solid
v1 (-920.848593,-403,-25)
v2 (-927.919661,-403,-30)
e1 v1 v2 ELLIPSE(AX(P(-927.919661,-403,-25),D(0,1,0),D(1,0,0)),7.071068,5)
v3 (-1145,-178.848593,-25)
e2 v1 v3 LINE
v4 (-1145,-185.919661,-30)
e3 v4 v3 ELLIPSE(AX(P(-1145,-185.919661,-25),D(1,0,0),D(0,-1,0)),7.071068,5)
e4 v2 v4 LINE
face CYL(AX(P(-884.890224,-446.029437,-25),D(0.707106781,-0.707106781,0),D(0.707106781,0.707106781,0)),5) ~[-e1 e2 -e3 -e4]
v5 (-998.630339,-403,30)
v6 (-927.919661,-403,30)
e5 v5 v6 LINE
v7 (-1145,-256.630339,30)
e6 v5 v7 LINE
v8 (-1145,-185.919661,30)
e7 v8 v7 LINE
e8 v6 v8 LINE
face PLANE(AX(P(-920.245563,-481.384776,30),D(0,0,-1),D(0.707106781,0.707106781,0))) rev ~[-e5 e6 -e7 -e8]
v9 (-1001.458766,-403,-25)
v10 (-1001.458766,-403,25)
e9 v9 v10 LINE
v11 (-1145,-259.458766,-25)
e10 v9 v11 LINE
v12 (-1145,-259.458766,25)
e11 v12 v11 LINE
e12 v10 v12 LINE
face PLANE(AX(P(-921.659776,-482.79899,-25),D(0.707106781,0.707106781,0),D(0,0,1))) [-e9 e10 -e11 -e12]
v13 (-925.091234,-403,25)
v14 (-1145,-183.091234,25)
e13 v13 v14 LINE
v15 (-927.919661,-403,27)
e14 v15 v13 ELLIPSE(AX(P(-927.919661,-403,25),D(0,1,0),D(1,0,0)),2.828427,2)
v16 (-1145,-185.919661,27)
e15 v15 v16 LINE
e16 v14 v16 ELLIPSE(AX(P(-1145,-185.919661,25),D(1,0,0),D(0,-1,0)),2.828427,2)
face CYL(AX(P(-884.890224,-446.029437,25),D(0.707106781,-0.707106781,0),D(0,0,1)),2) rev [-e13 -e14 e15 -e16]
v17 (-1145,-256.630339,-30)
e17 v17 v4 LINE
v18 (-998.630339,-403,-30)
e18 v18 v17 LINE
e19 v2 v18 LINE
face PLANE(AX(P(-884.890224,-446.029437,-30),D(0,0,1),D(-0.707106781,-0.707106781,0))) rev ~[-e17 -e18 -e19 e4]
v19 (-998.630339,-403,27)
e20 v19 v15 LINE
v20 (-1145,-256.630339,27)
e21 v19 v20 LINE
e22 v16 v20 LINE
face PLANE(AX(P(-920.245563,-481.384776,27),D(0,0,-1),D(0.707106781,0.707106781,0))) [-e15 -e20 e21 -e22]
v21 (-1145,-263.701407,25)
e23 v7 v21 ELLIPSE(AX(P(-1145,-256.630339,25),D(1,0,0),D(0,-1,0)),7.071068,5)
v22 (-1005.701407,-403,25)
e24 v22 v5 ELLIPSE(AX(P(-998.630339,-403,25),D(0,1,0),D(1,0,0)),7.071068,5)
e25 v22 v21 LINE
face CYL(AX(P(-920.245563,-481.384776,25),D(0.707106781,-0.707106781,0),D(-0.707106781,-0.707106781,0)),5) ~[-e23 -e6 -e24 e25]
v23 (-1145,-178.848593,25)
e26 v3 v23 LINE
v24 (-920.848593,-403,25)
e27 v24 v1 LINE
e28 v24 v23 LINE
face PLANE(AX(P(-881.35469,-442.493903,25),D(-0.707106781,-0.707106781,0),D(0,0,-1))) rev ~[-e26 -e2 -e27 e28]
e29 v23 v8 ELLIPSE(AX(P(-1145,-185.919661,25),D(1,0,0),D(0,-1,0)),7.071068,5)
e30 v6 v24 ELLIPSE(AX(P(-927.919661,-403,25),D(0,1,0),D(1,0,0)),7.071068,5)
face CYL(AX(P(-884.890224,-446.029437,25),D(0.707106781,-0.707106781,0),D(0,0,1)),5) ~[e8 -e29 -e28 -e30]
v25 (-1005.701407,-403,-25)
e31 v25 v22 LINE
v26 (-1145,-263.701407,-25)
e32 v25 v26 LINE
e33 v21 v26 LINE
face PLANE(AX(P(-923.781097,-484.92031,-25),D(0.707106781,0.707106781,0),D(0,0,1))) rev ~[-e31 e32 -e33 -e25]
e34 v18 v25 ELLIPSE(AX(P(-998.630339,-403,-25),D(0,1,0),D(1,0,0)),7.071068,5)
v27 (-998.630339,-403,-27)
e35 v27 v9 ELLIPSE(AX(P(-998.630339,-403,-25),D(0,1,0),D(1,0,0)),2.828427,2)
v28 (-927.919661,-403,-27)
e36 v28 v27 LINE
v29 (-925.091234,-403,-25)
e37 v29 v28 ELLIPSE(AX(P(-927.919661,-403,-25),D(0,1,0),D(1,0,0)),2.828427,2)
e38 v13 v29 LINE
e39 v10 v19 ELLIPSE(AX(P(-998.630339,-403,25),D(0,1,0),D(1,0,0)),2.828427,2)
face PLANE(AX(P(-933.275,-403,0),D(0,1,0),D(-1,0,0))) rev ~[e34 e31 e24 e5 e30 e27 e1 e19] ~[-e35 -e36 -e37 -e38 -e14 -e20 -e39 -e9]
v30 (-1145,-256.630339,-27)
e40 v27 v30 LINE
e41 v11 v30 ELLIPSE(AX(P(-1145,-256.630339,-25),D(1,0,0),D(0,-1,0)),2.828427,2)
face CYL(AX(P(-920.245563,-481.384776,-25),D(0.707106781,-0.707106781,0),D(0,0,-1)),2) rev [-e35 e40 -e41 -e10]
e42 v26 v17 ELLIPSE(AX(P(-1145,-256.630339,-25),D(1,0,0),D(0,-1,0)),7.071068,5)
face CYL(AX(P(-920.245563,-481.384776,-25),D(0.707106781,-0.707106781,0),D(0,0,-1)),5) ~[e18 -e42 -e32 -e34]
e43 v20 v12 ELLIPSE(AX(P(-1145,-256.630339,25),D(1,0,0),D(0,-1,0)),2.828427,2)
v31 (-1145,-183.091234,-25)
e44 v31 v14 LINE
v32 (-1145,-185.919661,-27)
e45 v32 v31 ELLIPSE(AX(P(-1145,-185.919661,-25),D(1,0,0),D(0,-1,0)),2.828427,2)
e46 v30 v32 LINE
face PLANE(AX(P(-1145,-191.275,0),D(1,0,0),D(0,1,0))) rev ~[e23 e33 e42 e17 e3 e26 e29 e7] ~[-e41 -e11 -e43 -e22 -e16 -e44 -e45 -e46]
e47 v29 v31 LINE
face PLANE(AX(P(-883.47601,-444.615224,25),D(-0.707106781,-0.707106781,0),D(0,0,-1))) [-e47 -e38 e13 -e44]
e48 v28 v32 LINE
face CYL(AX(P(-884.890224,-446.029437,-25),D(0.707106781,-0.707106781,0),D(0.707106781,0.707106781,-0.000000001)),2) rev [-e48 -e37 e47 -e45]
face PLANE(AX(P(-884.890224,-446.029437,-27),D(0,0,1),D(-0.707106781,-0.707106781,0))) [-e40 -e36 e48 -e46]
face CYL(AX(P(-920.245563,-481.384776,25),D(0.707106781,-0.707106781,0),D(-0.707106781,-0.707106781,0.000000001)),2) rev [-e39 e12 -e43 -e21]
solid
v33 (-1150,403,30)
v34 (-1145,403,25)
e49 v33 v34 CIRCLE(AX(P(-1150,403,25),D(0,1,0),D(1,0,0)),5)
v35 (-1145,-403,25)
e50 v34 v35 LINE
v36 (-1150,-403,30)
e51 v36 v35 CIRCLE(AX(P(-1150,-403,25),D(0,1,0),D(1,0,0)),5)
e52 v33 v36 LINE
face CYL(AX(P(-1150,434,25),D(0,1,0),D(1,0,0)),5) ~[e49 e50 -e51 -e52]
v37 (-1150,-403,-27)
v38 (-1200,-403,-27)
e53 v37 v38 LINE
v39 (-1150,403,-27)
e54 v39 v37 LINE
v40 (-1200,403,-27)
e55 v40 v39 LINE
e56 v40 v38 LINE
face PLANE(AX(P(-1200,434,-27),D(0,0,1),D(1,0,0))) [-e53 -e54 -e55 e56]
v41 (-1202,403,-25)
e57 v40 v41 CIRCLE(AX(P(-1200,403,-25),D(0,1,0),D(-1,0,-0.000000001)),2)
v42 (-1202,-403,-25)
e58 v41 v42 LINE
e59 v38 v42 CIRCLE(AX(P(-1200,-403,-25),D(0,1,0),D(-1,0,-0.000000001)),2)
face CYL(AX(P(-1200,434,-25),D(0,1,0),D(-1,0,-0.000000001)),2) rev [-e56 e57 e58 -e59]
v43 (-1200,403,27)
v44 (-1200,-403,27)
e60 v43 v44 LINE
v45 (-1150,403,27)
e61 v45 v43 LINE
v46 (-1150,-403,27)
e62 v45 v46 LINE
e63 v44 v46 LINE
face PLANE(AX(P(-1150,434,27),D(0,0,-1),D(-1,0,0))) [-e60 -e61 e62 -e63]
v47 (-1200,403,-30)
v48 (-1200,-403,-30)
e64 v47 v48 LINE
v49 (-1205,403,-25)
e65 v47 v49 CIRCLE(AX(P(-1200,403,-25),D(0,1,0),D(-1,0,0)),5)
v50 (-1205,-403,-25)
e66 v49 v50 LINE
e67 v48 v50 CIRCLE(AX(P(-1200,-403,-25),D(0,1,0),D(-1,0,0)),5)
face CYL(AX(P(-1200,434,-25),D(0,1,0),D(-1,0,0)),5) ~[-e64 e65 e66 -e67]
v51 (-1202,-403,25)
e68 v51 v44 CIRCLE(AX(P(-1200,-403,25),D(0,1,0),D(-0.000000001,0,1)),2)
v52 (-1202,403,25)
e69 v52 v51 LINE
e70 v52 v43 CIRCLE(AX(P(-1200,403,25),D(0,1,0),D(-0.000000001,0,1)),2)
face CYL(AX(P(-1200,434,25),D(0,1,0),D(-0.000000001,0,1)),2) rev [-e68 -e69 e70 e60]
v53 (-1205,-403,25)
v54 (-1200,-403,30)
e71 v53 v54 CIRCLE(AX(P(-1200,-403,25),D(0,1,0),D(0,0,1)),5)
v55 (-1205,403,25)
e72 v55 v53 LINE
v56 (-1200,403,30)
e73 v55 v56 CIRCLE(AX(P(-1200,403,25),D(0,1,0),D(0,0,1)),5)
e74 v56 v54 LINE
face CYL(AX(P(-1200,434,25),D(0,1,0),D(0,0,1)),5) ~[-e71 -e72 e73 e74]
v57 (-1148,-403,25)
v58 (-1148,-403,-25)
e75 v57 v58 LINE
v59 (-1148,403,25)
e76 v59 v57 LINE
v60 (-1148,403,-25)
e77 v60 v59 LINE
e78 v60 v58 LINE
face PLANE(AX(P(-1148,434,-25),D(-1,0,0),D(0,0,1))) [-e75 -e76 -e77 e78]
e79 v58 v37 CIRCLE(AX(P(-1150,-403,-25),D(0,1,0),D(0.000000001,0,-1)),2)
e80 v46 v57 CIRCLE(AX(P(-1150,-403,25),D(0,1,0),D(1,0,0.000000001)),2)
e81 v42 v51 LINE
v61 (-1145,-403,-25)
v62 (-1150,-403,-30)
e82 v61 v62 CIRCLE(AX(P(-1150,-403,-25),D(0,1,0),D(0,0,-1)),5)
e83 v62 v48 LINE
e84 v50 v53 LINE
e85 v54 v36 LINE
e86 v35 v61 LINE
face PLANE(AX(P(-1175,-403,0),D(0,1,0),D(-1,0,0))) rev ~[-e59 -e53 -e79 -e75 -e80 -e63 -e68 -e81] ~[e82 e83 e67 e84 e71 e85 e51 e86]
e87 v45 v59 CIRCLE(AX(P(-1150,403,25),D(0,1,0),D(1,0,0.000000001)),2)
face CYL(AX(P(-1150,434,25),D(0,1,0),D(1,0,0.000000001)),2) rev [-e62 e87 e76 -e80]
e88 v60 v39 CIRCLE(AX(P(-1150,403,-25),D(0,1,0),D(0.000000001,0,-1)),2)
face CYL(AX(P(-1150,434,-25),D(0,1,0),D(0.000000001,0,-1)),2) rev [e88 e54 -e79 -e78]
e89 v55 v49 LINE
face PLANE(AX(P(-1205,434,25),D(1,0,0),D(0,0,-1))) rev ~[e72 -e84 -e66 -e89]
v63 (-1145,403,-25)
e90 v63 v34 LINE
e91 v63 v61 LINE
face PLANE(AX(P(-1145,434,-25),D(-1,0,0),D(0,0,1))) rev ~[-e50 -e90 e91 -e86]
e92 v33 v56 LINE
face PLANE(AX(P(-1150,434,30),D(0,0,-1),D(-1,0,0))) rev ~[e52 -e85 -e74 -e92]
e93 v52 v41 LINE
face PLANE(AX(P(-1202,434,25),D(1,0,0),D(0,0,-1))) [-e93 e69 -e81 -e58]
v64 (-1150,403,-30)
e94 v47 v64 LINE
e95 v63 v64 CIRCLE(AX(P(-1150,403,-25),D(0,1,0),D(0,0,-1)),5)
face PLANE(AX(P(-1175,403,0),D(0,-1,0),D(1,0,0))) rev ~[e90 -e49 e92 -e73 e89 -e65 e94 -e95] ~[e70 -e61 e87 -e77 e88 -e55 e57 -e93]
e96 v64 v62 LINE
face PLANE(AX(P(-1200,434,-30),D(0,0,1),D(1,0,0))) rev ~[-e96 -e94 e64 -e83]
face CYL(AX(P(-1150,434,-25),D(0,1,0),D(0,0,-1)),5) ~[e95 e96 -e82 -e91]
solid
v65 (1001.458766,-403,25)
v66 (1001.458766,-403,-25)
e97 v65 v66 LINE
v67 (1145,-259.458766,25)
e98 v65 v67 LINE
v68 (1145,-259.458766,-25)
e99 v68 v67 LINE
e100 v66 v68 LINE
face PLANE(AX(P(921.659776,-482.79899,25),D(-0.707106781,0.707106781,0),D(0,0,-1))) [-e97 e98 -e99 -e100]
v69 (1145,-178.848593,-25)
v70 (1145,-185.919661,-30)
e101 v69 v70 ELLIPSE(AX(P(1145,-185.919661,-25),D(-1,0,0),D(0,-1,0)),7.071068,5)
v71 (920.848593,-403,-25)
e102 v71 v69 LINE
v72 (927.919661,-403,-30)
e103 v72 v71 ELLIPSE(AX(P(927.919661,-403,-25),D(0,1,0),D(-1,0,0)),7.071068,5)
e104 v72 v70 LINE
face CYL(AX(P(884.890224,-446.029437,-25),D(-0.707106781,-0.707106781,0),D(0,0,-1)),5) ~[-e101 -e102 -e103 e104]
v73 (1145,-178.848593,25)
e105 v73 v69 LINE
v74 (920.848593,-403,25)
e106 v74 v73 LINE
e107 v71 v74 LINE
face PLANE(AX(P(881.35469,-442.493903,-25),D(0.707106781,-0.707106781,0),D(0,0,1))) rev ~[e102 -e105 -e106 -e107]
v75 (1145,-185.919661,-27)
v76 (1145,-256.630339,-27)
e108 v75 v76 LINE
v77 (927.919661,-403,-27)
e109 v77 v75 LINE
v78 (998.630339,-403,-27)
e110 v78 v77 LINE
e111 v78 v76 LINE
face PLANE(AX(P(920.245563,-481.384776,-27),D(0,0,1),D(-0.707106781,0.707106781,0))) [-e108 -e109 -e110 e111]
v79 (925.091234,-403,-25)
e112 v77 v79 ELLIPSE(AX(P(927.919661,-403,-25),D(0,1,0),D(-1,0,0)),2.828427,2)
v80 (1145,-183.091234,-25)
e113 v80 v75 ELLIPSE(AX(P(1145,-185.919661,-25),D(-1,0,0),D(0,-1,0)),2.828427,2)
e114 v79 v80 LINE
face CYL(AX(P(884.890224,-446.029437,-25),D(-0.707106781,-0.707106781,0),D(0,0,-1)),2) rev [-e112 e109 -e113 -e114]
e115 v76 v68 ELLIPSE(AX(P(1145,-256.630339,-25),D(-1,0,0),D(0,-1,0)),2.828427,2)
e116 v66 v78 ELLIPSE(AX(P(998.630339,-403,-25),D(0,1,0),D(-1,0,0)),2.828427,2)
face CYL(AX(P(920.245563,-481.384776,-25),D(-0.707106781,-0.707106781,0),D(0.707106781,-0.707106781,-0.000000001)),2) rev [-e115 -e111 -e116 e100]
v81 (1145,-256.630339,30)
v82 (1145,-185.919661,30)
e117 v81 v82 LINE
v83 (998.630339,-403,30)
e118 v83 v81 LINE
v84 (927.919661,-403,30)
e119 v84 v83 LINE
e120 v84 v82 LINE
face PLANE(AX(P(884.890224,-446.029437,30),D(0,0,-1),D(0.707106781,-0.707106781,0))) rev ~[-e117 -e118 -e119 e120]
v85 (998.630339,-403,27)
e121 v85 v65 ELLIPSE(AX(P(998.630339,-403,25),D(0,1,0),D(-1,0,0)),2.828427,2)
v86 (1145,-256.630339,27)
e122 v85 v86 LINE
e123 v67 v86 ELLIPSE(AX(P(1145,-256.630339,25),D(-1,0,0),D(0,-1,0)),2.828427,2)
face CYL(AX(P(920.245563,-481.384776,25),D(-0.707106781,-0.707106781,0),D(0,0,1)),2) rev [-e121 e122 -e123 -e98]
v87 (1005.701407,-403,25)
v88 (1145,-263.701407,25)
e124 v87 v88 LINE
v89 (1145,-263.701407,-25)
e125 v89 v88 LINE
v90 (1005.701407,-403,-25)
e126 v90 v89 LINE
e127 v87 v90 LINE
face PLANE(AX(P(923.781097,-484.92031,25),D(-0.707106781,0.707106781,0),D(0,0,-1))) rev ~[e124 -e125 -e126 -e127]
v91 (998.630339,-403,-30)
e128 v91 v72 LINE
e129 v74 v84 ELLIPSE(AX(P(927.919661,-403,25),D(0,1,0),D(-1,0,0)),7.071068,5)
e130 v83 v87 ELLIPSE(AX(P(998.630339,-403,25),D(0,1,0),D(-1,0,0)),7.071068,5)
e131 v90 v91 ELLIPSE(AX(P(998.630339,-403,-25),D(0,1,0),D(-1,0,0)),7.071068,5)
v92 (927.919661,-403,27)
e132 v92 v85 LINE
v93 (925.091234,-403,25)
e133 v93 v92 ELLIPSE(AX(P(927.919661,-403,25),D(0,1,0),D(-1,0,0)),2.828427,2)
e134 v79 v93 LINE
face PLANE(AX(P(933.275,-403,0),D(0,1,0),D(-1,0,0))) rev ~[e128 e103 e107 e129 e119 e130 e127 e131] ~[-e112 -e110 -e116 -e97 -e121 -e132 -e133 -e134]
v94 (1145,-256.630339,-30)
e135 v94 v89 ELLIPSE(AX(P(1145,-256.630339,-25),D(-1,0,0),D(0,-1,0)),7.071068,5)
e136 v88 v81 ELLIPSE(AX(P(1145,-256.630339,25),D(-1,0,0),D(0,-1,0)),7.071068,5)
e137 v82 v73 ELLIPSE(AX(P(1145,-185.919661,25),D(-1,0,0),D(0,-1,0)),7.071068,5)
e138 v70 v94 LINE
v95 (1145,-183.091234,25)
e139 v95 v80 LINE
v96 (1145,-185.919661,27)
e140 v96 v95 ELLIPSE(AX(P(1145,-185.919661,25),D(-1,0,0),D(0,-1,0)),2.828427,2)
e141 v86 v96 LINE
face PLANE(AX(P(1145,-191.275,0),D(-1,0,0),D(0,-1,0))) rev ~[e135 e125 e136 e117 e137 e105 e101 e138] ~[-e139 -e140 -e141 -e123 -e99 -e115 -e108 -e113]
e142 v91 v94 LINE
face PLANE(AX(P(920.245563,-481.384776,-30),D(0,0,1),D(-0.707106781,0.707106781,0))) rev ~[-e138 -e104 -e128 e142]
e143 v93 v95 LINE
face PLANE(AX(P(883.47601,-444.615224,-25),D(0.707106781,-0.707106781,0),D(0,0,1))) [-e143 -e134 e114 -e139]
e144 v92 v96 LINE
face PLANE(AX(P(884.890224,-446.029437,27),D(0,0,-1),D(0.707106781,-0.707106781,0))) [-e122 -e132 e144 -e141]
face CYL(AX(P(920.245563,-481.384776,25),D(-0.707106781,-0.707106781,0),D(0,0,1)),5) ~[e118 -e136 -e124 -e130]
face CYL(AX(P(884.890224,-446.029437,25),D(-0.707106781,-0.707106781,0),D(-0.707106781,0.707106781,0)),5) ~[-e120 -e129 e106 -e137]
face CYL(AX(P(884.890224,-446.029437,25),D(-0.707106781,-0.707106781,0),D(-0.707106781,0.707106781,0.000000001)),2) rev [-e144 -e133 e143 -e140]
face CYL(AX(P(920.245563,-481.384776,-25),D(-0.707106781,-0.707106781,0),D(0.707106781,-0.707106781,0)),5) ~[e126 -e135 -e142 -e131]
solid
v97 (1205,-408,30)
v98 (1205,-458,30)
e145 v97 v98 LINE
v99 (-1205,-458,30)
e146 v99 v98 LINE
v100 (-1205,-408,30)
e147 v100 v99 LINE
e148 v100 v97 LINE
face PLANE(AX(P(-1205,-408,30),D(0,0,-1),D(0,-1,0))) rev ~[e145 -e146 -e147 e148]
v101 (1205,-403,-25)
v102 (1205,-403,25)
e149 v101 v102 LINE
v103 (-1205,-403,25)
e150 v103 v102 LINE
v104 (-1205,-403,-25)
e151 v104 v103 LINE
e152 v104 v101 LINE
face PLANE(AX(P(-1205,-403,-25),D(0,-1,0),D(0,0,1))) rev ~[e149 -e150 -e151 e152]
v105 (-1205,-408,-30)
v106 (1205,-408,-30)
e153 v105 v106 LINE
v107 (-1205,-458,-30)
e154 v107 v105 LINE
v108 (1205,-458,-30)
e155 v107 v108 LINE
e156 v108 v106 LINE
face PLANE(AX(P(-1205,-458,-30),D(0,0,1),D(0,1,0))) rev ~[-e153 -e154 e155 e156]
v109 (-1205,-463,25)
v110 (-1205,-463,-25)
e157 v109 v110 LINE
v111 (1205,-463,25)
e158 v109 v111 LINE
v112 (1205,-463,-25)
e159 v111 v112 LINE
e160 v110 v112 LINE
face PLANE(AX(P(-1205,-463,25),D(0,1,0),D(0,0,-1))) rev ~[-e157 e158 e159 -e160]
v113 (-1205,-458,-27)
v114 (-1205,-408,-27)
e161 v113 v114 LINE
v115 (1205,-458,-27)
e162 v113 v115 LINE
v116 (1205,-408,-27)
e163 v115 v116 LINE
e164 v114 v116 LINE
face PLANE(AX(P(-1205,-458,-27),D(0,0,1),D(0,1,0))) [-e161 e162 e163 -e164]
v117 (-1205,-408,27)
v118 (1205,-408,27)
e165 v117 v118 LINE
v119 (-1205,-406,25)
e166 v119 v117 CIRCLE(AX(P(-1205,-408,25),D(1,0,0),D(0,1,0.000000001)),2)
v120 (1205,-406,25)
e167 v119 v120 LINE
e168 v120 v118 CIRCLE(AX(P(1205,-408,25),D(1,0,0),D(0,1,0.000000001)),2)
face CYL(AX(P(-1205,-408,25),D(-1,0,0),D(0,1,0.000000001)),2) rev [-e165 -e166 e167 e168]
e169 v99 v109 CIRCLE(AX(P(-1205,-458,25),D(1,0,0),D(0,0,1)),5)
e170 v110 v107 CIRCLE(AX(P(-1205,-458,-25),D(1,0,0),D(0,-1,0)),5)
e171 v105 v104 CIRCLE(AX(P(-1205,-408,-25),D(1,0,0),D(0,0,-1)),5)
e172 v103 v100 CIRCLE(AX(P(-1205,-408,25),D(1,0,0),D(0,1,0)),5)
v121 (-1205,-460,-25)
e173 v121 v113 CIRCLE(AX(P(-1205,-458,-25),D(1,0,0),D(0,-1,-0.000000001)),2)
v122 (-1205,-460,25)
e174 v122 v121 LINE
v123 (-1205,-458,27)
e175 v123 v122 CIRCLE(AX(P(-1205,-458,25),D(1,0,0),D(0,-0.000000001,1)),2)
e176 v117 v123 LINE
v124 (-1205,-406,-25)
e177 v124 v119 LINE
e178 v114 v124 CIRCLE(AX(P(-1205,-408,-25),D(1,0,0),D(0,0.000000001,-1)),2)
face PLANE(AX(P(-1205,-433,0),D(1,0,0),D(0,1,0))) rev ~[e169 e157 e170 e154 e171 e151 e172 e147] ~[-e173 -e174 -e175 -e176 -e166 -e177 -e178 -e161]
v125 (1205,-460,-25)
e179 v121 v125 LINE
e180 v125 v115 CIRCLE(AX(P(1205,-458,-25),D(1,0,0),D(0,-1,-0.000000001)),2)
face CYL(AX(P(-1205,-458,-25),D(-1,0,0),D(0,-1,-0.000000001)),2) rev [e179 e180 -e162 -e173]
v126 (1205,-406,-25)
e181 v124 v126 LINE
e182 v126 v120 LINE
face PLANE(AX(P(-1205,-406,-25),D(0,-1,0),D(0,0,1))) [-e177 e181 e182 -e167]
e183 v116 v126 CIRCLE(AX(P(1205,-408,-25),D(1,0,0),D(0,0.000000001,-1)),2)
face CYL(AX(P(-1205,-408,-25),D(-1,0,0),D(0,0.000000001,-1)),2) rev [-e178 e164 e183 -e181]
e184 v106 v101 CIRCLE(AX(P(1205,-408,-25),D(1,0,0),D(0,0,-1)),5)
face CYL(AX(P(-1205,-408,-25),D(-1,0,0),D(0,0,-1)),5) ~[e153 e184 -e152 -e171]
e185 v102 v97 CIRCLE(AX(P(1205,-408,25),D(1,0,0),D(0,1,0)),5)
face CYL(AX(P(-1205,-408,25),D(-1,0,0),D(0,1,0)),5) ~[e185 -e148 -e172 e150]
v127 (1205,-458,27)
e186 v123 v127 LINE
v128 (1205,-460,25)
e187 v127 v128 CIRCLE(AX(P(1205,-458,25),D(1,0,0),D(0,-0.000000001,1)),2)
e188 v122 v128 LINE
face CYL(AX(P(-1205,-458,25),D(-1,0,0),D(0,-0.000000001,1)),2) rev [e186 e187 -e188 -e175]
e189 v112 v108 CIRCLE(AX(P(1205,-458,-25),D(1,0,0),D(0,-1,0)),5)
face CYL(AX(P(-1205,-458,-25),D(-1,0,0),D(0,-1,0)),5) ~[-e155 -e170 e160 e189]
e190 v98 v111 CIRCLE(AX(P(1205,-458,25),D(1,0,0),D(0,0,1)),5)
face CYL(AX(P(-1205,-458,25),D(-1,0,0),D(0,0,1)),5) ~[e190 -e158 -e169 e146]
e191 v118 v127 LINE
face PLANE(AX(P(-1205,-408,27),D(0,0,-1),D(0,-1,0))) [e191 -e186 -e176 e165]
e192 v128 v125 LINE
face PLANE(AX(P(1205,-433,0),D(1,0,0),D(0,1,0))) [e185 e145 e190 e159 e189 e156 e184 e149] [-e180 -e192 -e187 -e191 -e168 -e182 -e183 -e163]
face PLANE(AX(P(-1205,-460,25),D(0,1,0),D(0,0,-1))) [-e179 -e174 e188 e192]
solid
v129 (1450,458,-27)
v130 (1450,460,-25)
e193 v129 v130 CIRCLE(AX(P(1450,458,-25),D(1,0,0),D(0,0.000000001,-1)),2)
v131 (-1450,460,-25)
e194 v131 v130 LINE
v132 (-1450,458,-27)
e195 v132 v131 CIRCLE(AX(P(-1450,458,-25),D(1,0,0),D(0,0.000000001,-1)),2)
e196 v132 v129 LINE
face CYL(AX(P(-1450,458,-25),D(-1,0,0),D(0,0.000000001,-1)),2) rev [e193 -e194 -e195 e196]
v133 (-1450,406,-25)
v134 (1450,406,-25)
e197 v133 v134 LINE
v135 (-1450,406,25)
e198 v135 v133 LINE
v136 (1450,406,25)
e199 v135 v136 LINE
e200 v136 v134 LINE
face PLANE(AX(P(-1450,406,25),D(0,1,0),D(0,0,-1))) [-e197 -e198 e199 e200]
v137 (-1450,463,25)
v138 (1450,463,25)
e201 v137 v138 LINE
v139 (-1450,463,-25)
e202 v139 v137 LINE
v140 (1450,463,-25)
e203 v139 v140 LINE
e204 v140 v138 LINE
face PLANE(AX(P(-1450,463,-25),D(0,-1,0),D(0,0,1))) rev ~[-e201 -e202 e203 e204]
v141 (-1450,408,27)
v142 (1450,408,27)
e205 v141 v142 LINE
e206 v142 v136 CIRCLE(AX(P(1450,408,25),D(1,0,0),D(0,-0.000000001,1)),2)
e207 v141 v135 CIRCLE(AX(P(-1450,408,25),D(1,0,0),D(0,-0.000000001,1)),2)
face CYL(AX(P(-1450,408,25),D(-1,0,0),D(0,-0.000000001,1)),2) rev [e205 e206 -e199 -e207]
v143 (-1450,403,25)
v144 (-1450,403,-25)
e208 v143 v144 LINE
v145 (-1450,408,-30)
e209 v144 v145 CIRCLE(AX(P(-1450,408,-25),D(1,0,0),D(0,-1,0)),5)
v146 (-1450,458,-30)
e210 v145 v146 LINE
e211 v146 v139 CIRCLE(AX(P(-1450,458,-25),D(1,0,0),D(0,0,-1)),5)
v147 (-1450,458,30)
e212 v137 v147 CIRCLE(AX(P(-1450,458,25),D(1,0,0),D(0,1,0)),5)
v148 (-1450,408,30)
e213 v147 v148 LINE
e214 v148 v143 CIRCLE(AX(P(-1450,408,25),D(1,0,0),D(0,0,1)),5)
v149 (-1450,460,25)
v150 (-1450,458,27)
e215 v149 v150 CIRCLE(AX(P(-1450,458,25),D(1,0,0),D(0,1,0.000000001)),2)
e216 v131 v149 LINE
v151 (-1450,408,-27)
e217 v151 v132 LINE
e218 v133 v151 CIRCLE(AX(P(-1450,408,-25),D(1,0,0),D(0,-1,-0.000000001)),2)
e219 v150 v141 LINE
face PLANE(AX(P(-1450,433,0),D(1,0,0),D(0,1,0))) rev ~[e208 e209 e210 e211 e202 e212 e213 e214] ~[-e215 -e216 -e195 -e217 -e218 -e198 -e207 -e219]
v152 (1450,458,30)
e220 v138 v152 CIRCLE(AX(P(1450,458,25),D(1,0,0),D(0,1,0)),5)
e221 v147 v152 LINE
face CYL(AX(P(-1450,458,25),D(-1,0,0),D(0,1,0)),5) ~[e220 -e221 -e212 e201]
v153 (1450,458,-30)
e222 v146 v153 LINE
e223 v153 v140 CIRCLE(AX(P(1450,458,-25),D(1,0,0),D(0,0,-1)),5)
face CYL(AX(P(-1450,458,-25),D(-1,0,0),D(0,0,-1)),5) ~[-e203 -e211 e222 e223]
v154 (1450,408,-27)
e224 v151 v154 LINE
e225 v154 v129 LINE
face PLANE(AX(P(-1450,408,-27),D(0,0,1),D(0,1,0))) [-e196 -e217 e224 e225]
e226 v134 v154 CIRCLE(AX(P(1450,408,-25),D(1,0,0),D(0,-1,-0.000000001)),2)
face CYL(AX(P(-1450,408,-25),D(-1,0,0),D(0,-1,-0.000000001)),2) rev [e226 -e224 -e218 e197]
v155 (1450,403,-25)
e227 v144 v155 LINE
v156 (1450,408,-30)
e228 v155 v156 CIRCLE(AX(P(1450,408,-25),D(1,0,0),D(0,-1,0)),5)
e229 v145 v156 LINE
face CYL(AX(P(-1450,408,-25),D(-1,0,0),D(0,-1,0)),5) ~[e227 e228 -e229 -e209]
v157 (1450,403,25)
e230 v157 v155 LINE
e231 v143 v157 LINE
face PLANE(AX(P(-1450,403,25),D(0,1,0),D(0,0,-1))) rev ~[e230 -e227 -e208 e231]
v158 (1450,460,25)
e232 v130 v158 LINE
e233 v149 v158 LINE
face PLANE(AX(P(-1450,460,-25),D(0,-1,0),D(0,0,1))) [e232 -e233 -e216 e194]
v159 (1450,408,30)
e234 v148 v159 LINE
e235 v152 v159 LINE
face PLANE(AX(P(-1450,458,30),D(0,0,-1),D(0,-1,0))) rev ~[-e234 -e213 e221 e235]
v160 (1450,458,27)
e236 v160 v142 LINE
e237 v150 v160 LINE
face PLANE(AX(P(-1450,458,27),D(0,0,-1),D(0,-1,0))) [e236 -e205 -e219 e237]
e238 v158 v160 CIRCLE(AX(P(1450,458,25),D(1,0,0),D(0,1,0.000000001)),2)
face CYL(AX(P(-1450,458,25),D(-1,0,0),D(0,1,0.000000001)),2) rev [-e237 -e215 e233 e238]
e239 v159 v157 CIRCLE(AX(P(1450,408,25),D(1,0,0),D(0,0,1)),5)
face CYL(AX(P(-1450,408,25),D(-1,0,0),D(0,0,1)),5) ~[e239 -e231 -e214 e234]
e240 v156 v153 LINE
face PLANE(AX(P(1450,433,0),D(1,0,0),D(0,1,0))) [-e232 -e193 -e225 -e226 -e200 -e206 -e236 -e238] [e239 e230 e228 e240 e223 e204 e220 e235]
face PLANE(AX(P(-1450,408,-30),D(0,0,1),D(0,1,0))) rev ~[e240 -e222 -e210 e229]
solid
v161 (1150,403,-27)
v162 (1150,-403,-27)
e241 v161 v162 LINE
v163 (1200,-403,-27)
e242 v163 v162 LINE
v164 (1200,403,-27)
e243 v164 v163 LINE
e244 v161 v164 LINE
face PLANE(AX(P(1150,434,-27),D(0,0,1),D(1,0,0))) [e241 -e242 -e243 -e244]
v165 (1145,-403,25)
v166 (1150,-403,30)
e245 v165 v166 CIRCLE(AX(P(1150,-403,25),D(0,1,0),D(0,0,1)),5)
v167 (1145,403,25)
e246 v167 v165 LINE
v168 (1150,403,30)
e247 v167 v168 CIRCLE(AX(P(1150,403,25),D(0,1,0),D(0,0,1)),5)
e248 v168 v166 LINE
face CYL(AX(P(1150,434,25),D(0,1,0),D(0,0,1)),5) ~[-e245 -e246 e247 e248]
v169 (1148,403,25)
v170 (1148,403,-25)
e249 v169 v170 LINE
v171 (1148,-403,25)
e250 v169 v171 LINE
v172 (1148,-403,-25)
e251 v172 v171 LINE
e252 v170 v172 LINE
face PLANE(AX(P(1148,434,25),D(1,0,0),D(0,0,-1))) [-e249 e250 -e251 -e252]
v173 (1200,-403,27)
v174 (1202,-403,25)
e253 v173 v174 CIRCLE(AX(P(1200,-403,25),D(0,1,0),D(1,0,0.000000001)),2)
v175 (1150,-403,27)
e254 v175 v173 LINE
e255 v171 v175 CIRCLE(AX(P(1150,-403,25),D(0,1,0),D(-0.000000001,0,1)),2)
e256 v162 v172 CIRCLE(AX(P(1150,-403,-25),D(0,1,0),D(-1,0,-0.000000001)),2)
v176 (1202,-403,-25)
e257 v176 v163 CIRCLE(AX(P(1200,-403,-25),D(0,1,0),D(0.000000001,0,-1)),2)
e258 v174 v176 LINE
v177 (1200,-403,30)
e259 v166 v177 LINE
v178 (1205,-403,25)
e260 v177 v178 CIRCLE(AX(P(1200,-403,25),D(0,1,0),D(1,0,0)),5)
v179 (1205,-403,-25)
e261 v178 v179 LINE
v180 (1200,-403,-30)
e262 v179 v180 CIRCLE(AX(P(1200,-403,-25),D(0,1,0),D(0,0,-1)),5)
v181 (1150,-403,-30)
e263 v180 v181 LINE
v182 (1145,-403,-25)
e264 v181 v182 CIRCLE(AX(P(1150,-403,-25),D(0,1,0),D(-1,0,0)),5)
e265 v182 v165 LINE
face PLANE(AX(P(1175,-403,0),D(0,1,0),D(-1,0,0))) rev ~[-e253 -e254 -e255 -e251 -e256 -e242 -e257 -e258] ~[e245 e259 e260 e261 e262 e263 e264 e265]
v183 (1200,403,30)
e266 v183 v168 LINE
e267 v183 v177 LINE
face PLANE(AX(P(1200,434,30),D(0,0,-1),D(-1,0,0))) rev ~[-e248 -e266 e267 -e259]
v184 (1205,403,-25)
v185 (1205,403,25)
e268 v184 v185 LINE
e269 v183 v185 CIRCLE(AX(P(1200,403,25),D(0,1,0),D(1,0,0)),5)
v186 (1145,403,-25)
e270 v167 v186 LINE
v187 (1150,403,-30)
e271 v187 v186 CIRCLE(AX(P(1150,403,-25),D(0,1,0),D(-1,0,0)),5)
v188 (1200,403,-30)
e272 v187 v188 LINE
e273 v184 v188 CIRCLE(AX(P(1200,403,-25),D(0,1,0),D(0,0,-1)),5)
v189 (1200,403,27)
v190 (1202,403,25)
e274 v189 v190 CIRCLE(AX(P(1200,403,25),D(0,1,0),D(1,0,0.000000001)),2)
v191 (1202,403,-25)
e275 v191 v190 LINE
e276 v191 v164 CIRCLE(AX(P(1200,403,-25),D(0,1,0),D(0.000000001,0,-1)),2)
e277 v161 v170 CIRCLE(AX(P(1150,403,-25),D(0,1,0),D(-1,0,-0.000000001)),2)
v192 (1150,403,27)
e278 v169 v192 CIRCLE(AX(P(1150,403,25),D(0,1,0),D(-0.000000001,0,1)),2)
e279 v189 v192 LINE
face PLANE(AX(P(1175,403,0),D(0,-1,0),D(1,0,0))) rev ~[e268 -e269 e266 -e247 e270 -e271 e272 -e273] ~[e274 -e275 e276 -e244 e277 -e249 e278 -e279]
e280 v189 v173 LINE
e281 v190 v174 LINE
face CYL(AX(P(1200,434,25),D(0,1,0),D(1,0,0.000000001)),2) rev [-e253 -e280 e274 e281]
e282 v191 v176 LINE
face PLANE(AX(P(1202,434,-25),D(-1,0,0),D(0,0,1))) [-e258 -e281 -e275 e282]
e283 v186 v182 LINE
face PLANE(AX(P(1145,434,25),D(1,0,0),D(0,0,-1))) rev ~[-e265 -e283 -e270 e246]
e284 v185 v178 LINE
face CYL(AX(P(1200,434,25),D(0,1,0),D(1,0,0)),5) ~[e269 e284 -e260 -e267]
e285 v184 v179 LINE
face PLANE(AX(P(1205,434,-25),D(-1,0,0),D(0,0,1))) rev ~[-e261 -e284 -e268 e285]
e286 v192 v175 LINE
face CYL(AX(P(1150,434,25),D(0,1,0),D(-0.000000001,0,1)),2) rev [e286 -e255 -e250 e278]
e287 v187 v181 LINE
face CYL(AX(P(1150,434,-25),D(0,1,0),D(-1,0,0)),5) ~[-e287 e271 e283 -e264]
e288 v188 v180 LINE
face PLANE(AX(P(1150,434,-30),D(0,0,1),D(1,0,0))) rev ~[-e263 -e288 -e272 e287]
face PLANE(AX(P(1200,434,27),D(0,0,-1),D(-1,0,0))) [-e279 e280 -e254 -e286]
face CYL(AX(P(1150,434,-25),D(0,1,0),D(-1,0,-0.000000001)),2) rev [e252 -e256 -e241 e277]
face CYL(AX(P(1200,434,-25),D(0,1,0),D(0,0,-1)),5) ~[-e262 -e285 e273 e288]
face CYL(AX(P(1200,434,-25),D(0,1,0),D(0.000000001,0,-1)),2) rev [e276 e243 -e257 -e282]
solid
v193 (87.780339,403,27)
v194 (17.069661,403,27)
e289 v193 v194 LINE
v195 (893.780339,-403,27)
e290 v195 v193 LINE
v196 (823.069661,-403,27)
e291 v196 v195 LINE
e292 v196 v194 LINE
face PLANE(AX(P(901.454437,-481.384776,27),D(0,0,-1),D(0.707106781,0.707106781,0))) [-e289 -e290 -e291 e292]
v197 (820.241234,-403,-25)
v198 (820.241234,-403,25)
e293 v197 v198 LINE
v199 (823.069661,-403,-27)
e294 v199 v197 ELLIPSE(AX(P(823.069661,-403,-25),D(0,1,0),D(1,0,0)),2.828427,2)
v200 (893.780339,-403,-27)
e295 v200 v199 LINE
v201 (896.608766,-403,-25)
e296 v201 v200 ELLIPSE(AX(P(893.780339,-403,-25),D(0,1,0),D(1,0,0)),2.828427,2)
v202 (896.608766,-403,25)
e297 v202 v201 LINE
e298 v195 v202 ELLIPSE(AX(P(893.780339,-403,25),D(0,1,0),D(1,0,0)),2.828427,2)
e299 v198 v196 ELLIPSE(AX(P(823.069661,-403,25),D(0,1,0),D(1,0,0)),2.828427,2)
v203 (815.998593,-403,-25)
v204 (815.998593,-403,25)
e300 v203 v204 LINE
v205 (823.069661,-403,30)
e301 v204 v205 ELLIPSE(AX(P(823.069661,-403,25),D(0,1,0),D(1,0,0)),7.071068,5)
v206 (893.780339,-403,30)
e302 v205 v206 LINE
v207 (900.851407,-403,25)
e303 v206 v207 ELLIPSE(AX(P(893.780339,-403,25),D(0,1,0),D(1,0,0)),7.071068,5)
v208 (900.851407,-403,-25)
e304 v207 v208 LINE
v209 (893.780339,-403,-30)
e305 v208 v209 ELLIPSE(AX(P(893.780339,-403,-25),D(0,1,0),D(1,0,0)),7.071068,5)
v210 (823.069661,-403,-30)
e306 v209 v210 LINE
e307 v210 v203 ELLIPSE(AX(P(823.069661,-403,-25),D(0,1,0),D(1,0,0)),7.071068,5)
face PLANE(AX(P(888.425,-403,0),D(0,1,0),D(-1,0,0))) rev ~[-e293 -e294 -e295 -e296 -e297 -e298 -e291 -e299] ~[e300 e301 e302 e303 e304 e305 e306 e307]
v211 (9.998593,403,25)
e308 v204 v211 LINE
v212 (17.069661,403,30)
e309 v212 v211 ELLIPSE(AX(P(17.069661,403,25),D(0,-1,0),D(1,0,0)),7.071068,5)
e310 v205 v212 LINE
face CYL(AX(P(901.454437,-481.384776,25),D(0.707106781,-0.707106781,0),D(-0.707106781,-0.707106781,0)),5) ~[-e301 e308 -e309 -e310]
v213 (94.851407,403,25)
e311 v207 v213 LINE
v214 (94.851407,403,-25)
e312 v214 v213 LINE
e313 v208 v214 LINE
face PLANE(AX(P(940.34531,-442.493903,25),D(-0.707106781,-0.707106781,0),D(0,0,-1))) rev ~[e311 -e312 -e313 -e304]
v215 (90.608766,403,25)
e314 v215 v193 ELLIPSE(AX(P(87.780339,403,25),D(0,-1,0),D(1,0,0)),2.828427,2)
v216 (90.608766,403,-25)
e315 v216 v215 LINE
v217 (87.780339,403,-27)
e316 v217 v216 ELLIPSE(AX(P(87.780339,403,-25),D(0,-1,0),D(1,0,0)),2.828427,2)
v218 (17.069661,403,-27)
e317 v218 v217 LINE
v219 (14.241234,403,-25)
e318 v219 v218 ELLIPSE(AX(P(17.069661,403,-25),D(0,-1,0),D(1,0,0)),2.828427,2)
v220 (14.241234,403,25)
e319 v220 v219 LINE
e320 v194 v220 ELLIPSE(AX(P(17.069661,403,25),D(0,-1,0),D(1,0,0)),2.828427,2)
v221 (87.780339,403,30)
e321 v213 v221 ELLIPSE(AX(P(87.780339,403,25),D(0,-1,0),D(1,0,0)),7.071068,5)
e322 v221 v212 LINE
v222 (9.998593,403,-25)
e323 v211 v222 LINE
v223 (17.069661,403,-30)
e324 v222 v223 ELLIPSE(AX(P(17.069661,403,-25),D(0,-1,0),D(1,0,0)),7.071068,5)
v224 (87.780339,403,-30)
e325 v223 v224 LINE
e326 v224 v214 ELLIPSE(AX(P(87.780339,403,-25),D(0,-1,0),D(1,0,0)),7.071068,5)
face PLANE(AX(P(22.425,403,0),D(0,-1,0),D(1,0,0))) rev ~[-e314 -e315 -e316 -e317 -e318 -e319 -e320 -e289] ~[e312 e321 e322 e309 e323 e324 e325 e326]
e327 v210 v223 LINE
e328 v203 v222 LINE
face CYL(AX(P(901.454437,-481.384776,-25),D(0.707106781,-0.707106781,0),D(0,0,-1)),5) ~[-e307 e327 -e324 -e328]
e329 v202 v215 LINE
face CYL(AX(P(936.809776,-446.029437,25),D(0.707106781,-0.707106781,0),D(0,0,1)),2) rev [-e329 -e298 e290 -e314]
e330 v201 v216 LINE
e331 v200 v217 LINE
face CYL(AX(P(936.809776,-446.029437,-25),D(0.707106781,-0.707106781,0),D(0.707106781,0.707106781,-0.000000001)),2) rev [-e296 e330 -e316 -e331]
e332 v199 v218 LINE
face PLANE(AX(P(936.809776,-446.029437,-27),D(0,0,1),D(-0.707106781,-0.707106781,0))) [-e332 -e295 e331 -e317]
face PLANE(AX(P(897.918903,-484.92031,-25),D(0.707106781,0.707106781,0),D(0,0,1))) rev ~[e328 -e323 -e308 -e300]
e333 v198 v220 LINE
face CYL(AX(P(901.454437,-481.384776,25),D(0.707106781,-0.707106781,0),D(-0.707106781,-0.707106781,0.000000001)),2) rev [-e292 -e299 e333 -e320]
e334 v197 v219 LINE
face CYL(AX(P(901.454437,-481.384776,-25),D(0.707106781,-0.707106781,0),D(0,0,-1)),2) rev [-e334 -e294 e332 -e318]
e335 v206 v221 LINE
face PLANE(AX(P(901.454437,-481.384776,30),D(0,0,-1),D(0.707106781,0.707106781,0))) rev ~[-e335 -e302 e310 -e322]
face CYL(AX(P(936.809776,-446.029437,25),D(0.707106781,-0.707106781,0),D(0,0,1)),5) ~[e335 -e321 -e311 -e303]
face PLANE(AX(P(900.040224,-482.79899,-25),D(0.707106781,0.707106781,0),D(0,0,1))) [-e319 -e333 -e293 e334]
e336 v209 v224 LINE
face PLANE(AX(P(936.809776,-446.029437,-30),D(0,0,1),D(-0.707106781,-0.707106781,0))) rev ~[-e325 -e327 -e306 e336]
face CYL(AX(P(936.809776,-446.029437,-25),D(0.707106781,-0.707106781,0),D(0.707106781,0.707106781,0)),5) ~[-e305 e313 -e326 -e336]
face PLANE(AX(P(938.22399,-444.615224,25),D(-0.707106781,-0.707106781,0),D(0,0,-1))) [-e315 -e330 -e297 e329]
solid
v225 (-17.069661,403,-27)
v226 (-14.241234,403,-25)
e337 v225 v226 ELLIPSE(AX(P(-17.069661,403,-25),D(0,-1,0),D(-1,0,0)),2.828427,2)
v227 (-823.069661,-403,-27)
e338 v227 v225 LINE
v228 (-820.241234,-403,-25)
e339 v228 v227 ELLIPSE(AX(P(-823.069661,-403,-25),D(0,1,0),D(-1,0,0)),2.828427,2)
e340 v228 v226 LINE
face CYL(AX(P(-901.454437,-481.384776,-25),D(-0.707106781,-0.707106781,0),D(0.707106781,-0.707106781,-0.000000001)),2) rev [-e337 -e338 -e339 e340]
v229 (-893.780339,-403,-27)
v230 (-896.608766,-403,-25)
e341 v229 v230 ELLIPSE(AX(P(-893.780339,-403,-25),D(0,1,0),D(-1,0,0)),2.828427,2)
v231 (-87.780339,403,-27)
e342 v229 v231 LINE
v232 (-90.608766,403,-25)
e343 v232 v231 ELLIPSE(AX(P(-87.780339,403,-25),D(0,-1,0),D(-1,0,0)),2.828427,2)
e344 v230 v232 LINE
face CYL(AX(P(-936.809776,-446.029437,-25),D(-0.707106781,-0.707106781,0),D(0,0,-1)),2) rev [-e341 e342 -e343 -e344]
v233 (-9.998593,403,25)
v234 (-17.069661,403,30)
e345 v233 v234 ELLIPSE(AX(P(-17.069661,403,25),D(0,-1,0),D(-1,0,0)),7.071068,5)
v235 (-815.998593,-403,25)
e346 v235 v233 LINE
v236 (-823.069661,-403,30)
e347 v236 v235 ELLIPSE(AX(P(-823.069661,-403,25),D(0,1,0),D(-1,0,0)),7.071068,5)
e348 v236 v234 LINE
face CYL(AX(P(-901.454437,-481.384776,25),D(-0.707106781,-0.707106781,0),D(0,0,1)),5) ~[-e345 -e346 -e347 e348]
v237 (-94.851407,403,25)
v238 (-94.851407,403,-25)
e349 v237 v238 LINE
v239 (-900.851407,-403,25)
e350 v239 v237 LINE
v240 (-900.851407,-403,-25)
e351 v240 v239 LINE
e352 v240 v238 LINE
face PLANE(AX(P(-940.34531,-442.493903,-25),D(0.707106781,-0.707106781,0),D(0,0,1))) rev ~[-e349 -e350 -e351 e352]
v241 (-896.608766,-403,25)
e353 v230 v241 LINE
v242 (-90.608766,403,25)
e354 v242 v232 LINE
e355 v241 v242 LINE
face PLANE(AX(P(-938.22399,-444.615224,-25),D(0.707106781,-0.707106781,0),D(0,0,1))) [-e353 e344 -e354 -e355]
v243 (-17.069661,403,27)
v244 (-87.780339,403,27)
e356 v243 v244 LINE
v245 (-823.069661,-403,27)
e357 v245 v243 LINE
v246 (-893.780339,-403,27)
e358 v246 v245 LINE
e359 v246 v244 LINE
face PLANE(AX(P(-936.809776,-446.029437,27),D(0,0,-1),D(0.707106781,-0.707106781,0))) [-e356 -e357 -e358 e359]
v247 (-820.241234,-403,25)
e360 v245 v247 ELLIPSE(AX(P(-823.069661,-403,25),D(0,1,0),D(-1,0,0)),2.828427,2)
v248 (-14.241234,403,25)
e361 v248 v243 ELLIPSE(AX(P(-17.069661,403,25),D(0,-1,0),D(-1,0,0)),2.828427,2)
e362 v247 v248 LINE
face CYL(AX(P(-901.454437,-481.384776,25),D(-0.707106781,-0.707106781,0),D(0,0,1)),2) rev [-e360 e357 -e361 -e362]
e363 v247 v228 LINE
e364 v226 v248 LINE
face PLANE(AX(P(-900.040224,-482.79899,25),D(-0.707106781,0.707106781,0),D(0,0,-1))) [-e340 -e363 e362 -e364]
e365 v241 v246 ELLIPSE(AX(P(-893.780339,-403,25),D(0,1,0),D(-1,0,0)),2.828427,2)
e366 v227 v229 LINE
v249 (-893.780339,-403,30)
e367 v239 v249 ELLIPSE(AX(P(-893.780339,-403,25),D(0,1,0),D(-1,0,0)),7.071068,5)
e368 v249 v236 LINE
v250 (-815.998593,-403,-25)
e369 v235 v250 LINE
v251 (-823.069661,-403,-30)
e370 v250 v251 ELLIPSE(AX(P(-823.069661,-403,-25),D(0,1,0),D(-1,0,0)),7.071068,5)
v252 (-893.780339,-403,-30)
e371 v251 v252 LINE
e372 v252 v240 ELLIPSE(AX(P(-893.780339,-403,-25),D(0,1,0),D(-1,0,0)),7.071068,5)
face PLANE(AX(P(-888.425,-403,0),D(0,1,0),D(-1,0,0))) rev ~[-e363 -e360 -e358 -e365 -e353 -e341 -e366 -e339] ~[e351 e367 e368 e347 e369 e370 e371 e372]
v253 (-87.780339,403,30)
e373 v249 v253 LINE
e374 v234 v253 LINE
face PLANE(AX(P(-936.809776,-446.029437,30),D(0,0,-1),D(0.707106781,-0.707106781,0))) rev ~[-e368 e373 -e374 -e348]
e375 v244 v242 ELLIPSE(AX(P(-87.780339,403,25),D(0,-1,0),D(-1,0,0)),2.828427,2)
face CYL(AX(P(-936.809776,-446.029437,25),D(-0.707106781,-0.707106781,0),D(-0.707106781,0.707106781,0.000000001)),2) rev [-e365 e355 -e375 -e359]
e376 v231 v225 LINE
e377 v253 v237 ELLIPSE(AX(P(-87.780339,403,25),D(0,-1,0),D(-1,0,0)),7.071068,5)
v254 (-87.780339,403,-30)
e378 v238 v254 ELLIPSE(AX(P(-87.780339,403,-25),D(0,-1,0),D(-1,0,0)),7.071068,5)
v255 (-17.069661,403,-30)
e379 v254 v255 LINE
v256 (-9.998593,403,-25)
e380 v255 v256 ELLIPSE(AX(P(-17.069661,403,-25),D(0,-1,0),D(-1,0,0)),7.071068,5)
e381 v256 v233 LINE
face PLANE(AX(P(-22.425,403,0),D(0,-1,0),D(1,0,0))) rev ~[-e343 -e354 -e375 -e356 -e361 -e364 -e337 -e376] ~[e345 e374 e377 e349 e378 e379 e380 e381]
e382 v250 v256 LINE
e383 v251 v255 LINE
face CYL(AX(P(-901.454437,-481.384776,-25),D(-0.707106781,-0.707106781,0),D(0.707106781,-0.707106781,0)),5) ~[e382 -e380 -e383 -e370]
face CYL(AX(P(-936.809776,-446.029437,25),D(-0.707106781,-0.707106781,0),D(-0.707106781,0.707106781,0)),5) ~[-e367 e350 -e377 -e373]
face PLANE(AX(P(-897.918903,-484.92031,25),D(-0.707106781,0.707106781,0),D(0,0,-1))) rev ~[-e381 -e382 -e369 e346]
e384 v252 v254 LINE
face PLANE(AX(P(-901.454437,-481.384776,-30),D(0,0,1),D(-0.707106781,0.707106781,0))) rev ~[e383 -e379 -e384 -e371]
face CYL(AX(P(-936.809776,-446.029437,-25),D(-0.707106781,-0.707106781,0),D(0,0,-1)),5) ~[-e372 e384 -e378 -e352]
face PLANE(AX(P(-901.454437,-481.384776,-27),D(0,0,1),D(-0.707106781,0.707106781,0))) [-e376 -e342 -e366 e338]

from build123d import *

# Parameters (mm, degrees)
F_60_X_40_X_3_2_1_DEPTH   = 2900
F_60_X_40_X_3_2_1_2_DEPTH = 2410
F_60_X_40_X_3_2_1_3_DEPTH = 868
F_60_X_40_X_3_2_1_4_DEPTH = 868
F_60_X_40_X_3_2_1_5_DEPTH = 428.703587107
F_60_X_40_X_3_2_1_6_DEPTH = 1311.561758757
F_60_X_40_X_3_2_1_7_DEPTH = 1311.561758757
F_60_X_40_X_3_2_1_8_DEPTH = 428.703587107


with BuildPart() as part:
    # Sketch1 → Прямоугольная труба 60 X 40 X 3.2(1) (new body)
    with BuildSketch(Plane(origin=(-1450, 433, 0), x_dir=(0, 1, 0), z_dir=(1, 0, 0))):
        with BuildLine():
            Line((-25, -30), (25, -30))
            ThreePointArc((25, -30), (28.535533906, -28.535533906), (30, -25))
            Line((30, -25), (30, 25))
            ThreePointArc((30, 25), (28.535533906, 28.535533906), (25, 30))
            Line((25, 30), (-25, 30))
            ThreePointArc((-25, 30), (-28.535533906, 28.535533906), (-30, 25))
            Line((-30, 25), (-30, -25))
            ThreePointArc((-30, -25), (-28.535533906, -28.535533906), (-25, -30))
        make_face()
        with BuildLine():
            Line((-25, -27), (25, -27))
            ThreePointArc((25, -27), (26.414213562, -26.414213562), (27, -25))
            Line((27, -25), (27, 25))
            ThreePointArc((27, 25), (26.414213562, 26.414213562), (25, 27))
            Line((25, 27), (-25, 27))
            ThreePointArc((-25, 27), (-26.414213562, 26.414213562), (-27, 25))
            Line((-27, 25), (-27, -25))
            ThreePointArc((-27, -25), (-26.414213562, -26.414213562), (-25, -27))
        make_face(mode=Mode.SUBTRACT)
    extrude(amount=F_60_X_40_X_3_2_1_DEPTH)


with BuildPart() as body_2:
    # Sketch1 on segment 2 (carried to segment 2) → 60 X 40 X 3.2_1 2 (new body)
    with BuildSketch(Plane(origin=(-1205, -433, 0), x_dir=(0, 1, 0), z_dir=(1, 0, 0))):
        with BuildLine():
            Line((-25, -30), (25, -30))
            ThreePointArc((25, -30), (28.535533906, -28.535533906), (30, -25))
            Line((30, -25), (30, 25))
            ThreePointArc((30, 25), (28.535533906, 28.535533906), (25, 30))
            Line((25, 30), (-25, 30))
            ThreePointArc((-25, 30), (-28.535533906, 28.535533906), (-30, 25))
            Line((-30, 25), (-30, -25))
            ThreePointArc((-30, -25), (-28.535533906, -28.535533906), (-25, -30))
        make_face()
        with BuildLine():
            Line((-25, -27), (25, -27))
            ThreePointArc((25, -27), (26.414213562, -26.414213562), (27, -25))
            Line((27, -25), (27, 25))
            ThreePointArc((27, 25), (26.414213562, 26.414213562), (25, 27))
            Line((25, 27), (-25, 27))
            ThreePointArc((-25, 27), (-26.414213562, 26.414213562), (-27, 25))
            Line((-27, 25), (-27, -25))
            ThreePointArc((-27, -25), (-26.414213562, -26.414213562), (-25, -27))
        make_face(mode=Mode.SUBTRACT)
    extrude(amount=F_60_X_40_X_3_2_1_2_DEPTH)


with BuildPart() as body_3:
    # Sketch1 on segment 3 (carried to segment 3) → 60 X 40 X 3.2_1 3 (new body)
    with BuildSketch(Plane(origin=(-1175, 434, 0), x_dir=(1, 0, 0), z_dir=(0, -1, 0))):
        with BuildLine():
            Line((-25, -30), (25, -30))
            ThreePointArc((25, -30), (28.535533906, -28.535533906), (30, -25))
            Line((30, -25), (30, 25))
            ThreePointArc((30, 25), (28.535533906, 28.535533906), (25, 30))
            Line((25, 30), (-25, 30))
            ThreePointArc((-25, 30), (-28.535533906, 28.535533906), (-30, 25))
            Line((-30, 25), (-30, -25))
            ThreePointArc((-30, -25), (-28.535533906, -28.535533906), (-25, -30))
        make_face()
        with BuildLine():
            Line((-25, -27), (25, -27))
            ThreePointArc((25, -27), (26.414213562, -26.414213562), (27, -25))
            Line((27, -25), (27, 25))
            ThreePointArc((27, 25), (26.414213562, 26.414213562), (25, 27))
            Line((25, 27), (-25, 27))
            ThreePointArc((-25, 27), (-26.414213562, 26.414213562), (-27, 25))
            Line((-27, 25), (-27, -25))
            ThreePointArc((-27, -25), (-26.414213562, -26.414213562), (-25, -27))
        make_face(mode=Mode.SUBTRACT)
    extrude(amount=F_60_X_40_X_3_2_1_3_DEPTH)

    # 60 X 40 X 3.2_1 3 end butt 1
    split(bisect_by=Plane(origin=(-1175, 403, 0), x_dir=(1, 0, 0), z_dir=(0, -1, 0)), keep=Keep.TOP)

    # 60 X 40 X 3.2_1 3 end butt 2
    split(bisect_by=Plane(origin=(-1175, -403, 0), x_dir=(-1, 0, 0), z_dir=(0, 1, 0)), keep=Keep.TOP)


with BuildPart() as body_4:
    # Sketch1 on segment 4 (carried to segment 4) → 60 X 40 X 3.2_1 4 (new body)
    with BuildSketch(Plane(origin=(1175, 434, 0), x_dir=(1, 0, 0), z_dir=(0, -1, 0))):
        with BuildLine():
            Line((-25, -30), (25, -30))
            ThreePointArc((25, -30), (28.535533906, -28.535533906), (30, -25))
            Line((30, -25), (30, 25))
            ThreePointArc((30, 25), (28.535533906, 28.535533906), (25, 30))
            Line((25, 30), (-25, 30))
            ThreePointArc((-25, 30), (-28.535533906, 28.535533906), (-30, 25))
            Line((-30, 25), (-30, -25))
            ThreePointArc((-30, -25), (-28.535533906, -28.535533906), (-25, -30))
        make_face()
        with BuildLine():
            Line((-25, -27), (25, -27))
            ThreePointArc((25, -27), (26.414213562, -26.414213562), (27, -25))
            Line((27, -25), (27, 25))
            ThreePointArc((27, 25), (26.414213562, 26.414213562), (25, 27))
            Line((25, 27), (-25, 27))
            ThreePointArc((-25, 27), (-26.414213562, 26.414213562), (-27, 25))
            Line((-27, 25), (-27, -25))
            ThreePointArc((-27, -25), (-26.414213562, -26.414213562), (-25, -27))
        make_face(mode=Mode.SUBTRACT)
    extrude(amount=F_60_X_40_X_3_2_1_4_DEPTH)

    # 60 X 40 X 3.2_1 4 end butt 1
    split(bisect_by=Plane(origin=(1175, 403, 0), x_dir=(1, 0, 0), z_dir=(0, -1, 0)), keep=Keep.TOP)

    # 60 X 40 X 3.2_1 4 end butt 2
    split(bisect_by=Plane(origin=(1175, -403, 0), x_dir=(-1, 0, 0), z_dir=(0, 1, 0)), keep=Keep.TOP)


with BuildPart() as body_5:
    # Sketch1 on segment 5 (carried to segment 5) → 60 X 40 X 3.2_1 5 (new body)
    with BuildSketch(Plane(origin=(-902.567893219, -463.707106781, 0), x_dir=(-0.707106781, -0.707106781, 0), z_dir=(-0.707106781, 0.707106781, 0))):
        with BuildLine():
            Line((-25, -30), (25, -30))
            ThreePointArc((25, -30), (28.535533906, -28.535533906), (30, -25))
            Line((30, -25), (30, 25))
            ThreePointArc((30, 25), (28.535533906, 28.535533906), (25, 30))
            Line((25, 30), (-25, 30))
            ThreePointArc((-25, 30), (-28.535533906, 28.535533906), (-30, 25))
            Line((-30, 25), (-30, -25))
            ThreePointArc((-30, -25), (-28.535533906, -28.535533906), (-25, -30))
        make_face()
        with BuildLine():
            Line((-25, -27), (25, -27))
            ThreePointArc((25, -27), (26.414213562, -26.414213562), (27, -25))
            Line((27, -25), (27, 25))
            ThreePointArc((27, 25), (26.414213562, 26.414213562), (25, 27))
            Line((25, 27), (-25, 27))
            ThreePointArc((-25, 27), (-26.414213562, 26.414213562), (-27, 25))
            Line((-27, 25), (-27, -25))
            ThreePointArc((-27, -25), (-26.414213562, -26.414213562), (-25, -27))
        make_face(mode=Mode.SUBTRACT)
    extrude(amount=F_60_X_40_X_3_2_1_5_DEPTH)

    # 60 X 40 X 3.2_1 5 end butt 1
    split(bisect_by=Plane(origin=(-933.275, -403, 0), x_dir=(-1, 0, 0), z_dir=(0, 1, 0)), keep=Keep.TOP)

    # 60 X 40 X 3.2_1 5 end butt 2
    split(bisect_by=Plane(origin=(-1145, -191.275, 0), x_dir=(0, 1, 0), z_dir=(1, 0, 0)), keep=Keep.TOP)


with BuildPart() as body_6:
    # Sketch1 on segment 6 (carried to segment 6) → 60 X 40 X 3.2_1 6 (new body)
    with BuildSketch(Plane(origin=(-919.132106781, -463.707106781, 0), x_dir=(-0.707106781, 0.707106781, 0), z_dir=(0.707106781, 0.707106781, 0))):
        with BuildLine():
            Line((-25, -30), (25, -30))
            ThreePointArc((25, -30), (28.535533906, -28.535533906), (30, -25))
            Line((30, -25), (30, 25))
            ThreePointArc((30, 25), (28.535533906, 28.535533906), (25, 30))
            Line((25, 30), (-25, 30))
            ThreePointArc((-25, 30), (-28.535533906, 28.535533906), (-30, 25))
            Line((-30, 25), (-30, -25))
            ThreePointArc((-30, -25), (-28.535533906, -28.535533906), (-25, -30))
        make_face()
        with BuildLine():
            Line((-25, -27), (25, -27))
            ThreePointArc((25, -27), (26.414213562, -26.414213562), (27, -25))
            Line((27, -25), (27, 25))
            ThreePointArc((27, 25), (26.414213562, 26.414213562), (25, 27))
            Line((25, 27), (-25, 27))
            ThreePointArc((-25, 27), (-26.414213562, 26.414213562), (-27, 25))
            Line((-27, 25), (-27, -25))
            ThreePointArc((-27, -25), (-26.414213562, -26.414213562), (-25, -27))
        make_face(mode=Mode.SUBTRACT)
    extrude(amount=F_60_X_40_X_3_2_1_6_DEPTH)

    # 60 X 40 X 3.2_1 6 end butt 1
    split(bisect_by=Plane(origin=(-888.425, -403, 0), x_dir=(-1, 0, 0), z_dir=(0, 1, 0)), keep=Keep.TOP)

    # 60 X 40 X 3.2_1 6 end butt 2
    split(bisect_by=Plane(origin=(-22.425, 403, 0), x_dir=(1, 0, 0), z_dir=(0, -1, 0)), keep=Keep.TOP)


with BuildPart() as body_7:
    # Sketch1 on segment 7 (carried to segment 7) → 60 X 40 X 3.2_1 7 (new body)
    with BuildSketch(Plane(origin=(919.132106781, -463.707106781, 0), x_dir=(-0.707106781, -0.707106781, 0), z_dir=(-0.707106781, 0.707106781, 0))):
        with BuildLine():
            Line((-25, -30), (25, -30))
            ThreePointArc((25, -30), (28.535533906, -28.535533906), (30, -25))
            Line((30, -25), (30, 25))
            ThreePointArc((30, 25), (28.535533906, 28.535533906), (25, 30))
            Line((25, 30), (-25, 30))
            ThreePointArc((-25, 30), (-28.535533906, 28.535533906), (-30, 25))
            Line((-30, 25), (-30, -25))
            ThreePointArc((-30, -25), (-28.535533906, -28.535533906), (-25, -30))
        make_face()
        with BuildLine():
            Line((-25, -27), (25, -27))
            ThreePointArc((25, -27), (26.414213562, -26.414213562), (27, -25))
            Line((27, -25), (27, 25))
            ThreePointArc((27, 25), (26.414213562, 26.414213562), (25, 27))
            Line((25, 27), (-25, 27))
            ThreePointArc((-25, 27), (-26.414213562, 26.414213562), (-27, 25))
            Line((-27, 25), (-27, -25))
            ThreePointArc((-27, -25), (-26.414213562, -26.414213562), (-25, -27))
        make_face(mode=Mode.SUBTRACT)
    extrude(amount=F_60_X_40_X_3_2_1_7_DEPTH)

    # 60 X 40 X 3.2_1 7 end butt 1
    split(bisect_by=Plane(origin=(888.425, -403, 0), x_dir=(-1, 0, 0), z_dir=(0, 1, 0)), keep=Keep.TOP)

    # 60 X 40 X 3.2_1 7 end butt 2
    split(bisect_by=Plane(origin=(22.425, 403, 0), x_dir=(1, 0, 0), z_dir=(0, -1, 0)), keep=Keep.TOP)


with BuildPart() as body_8:
    # Sketch1 on segment 8 (carried to segment 8) → 60 X 40 X 3.2_1 8 (new body)
    with BuildSketch(Plane(origin=(902.567893219, -463.707106781, 0), x_dir=(-0.707106781, 0.707106781, 0), z_dir=(0.707106781, 0.707106781, 0))):
        with BuildLine():
            Line((-25, -30), (25, -30))
            ThreePointArc((25, -30), (28.535533906, -28.535533906), (30, -25))
            Line((30, -25), (30, 25))
            ThreePointArc((30, 25), (28.535533906, 28.535533906), (25, 30))
            Line((25, 30), (-25, 30))
            ThreePointArc((-25, 30), (-28.535533906, 28.535533906), (-30, 25))
            Line((-30, 25), (-30, -25))
            ThreePointArc((-30, -25), (-28.535533906, -28.535533906), (-25, -30))
        make_face()
        with BuildLine():
            Line((-25, -27), (25, -27))
            ThreePointArc((25, -27), (26.414213562, -26.414213562), (27, -25))
            Line((27, -25), (27, 25))
            ThreePointArc((27, 25), (26.414213562, 26.414213562), (25, 27))
            Line((25, 27), (-25, 27))
            ThreePointArc((-25, 27), (-26.414213562, 26.414213562), (-27, 25))
            Line((-27, 25), (-27, -25))
            ThreePointArc((-27, -25), (-26.414213562, -26.414213562), (-25, -27))
        make_face(mode=Mode.SUBTRACT)
    extrude(amount=F_60_X_40_X_3_2_1_8_DEPTH)

    # 60 X 40 X 3.2_1 8 end butt 1
    split(bisect_by=Plane(origin=(933.275, -403, 0), x_dir=(-1, 0, 0), z_dir=(0, 1, 0)), keep=Keep.TOP)

    # 60 X 40 X 3.2_1 8 end butt 2
    split(bisect_by=Plane(origin=(1145, -191.275, 0), x_dir=(0, -1, 0), z_dir=(-1, 0, 0)), keep=Keep.TOP)


solid = Compound([part.part, body_2.part, body_3.part, body_4.part, body_5.part, body_6.part, body_7.part, body_8.part])
